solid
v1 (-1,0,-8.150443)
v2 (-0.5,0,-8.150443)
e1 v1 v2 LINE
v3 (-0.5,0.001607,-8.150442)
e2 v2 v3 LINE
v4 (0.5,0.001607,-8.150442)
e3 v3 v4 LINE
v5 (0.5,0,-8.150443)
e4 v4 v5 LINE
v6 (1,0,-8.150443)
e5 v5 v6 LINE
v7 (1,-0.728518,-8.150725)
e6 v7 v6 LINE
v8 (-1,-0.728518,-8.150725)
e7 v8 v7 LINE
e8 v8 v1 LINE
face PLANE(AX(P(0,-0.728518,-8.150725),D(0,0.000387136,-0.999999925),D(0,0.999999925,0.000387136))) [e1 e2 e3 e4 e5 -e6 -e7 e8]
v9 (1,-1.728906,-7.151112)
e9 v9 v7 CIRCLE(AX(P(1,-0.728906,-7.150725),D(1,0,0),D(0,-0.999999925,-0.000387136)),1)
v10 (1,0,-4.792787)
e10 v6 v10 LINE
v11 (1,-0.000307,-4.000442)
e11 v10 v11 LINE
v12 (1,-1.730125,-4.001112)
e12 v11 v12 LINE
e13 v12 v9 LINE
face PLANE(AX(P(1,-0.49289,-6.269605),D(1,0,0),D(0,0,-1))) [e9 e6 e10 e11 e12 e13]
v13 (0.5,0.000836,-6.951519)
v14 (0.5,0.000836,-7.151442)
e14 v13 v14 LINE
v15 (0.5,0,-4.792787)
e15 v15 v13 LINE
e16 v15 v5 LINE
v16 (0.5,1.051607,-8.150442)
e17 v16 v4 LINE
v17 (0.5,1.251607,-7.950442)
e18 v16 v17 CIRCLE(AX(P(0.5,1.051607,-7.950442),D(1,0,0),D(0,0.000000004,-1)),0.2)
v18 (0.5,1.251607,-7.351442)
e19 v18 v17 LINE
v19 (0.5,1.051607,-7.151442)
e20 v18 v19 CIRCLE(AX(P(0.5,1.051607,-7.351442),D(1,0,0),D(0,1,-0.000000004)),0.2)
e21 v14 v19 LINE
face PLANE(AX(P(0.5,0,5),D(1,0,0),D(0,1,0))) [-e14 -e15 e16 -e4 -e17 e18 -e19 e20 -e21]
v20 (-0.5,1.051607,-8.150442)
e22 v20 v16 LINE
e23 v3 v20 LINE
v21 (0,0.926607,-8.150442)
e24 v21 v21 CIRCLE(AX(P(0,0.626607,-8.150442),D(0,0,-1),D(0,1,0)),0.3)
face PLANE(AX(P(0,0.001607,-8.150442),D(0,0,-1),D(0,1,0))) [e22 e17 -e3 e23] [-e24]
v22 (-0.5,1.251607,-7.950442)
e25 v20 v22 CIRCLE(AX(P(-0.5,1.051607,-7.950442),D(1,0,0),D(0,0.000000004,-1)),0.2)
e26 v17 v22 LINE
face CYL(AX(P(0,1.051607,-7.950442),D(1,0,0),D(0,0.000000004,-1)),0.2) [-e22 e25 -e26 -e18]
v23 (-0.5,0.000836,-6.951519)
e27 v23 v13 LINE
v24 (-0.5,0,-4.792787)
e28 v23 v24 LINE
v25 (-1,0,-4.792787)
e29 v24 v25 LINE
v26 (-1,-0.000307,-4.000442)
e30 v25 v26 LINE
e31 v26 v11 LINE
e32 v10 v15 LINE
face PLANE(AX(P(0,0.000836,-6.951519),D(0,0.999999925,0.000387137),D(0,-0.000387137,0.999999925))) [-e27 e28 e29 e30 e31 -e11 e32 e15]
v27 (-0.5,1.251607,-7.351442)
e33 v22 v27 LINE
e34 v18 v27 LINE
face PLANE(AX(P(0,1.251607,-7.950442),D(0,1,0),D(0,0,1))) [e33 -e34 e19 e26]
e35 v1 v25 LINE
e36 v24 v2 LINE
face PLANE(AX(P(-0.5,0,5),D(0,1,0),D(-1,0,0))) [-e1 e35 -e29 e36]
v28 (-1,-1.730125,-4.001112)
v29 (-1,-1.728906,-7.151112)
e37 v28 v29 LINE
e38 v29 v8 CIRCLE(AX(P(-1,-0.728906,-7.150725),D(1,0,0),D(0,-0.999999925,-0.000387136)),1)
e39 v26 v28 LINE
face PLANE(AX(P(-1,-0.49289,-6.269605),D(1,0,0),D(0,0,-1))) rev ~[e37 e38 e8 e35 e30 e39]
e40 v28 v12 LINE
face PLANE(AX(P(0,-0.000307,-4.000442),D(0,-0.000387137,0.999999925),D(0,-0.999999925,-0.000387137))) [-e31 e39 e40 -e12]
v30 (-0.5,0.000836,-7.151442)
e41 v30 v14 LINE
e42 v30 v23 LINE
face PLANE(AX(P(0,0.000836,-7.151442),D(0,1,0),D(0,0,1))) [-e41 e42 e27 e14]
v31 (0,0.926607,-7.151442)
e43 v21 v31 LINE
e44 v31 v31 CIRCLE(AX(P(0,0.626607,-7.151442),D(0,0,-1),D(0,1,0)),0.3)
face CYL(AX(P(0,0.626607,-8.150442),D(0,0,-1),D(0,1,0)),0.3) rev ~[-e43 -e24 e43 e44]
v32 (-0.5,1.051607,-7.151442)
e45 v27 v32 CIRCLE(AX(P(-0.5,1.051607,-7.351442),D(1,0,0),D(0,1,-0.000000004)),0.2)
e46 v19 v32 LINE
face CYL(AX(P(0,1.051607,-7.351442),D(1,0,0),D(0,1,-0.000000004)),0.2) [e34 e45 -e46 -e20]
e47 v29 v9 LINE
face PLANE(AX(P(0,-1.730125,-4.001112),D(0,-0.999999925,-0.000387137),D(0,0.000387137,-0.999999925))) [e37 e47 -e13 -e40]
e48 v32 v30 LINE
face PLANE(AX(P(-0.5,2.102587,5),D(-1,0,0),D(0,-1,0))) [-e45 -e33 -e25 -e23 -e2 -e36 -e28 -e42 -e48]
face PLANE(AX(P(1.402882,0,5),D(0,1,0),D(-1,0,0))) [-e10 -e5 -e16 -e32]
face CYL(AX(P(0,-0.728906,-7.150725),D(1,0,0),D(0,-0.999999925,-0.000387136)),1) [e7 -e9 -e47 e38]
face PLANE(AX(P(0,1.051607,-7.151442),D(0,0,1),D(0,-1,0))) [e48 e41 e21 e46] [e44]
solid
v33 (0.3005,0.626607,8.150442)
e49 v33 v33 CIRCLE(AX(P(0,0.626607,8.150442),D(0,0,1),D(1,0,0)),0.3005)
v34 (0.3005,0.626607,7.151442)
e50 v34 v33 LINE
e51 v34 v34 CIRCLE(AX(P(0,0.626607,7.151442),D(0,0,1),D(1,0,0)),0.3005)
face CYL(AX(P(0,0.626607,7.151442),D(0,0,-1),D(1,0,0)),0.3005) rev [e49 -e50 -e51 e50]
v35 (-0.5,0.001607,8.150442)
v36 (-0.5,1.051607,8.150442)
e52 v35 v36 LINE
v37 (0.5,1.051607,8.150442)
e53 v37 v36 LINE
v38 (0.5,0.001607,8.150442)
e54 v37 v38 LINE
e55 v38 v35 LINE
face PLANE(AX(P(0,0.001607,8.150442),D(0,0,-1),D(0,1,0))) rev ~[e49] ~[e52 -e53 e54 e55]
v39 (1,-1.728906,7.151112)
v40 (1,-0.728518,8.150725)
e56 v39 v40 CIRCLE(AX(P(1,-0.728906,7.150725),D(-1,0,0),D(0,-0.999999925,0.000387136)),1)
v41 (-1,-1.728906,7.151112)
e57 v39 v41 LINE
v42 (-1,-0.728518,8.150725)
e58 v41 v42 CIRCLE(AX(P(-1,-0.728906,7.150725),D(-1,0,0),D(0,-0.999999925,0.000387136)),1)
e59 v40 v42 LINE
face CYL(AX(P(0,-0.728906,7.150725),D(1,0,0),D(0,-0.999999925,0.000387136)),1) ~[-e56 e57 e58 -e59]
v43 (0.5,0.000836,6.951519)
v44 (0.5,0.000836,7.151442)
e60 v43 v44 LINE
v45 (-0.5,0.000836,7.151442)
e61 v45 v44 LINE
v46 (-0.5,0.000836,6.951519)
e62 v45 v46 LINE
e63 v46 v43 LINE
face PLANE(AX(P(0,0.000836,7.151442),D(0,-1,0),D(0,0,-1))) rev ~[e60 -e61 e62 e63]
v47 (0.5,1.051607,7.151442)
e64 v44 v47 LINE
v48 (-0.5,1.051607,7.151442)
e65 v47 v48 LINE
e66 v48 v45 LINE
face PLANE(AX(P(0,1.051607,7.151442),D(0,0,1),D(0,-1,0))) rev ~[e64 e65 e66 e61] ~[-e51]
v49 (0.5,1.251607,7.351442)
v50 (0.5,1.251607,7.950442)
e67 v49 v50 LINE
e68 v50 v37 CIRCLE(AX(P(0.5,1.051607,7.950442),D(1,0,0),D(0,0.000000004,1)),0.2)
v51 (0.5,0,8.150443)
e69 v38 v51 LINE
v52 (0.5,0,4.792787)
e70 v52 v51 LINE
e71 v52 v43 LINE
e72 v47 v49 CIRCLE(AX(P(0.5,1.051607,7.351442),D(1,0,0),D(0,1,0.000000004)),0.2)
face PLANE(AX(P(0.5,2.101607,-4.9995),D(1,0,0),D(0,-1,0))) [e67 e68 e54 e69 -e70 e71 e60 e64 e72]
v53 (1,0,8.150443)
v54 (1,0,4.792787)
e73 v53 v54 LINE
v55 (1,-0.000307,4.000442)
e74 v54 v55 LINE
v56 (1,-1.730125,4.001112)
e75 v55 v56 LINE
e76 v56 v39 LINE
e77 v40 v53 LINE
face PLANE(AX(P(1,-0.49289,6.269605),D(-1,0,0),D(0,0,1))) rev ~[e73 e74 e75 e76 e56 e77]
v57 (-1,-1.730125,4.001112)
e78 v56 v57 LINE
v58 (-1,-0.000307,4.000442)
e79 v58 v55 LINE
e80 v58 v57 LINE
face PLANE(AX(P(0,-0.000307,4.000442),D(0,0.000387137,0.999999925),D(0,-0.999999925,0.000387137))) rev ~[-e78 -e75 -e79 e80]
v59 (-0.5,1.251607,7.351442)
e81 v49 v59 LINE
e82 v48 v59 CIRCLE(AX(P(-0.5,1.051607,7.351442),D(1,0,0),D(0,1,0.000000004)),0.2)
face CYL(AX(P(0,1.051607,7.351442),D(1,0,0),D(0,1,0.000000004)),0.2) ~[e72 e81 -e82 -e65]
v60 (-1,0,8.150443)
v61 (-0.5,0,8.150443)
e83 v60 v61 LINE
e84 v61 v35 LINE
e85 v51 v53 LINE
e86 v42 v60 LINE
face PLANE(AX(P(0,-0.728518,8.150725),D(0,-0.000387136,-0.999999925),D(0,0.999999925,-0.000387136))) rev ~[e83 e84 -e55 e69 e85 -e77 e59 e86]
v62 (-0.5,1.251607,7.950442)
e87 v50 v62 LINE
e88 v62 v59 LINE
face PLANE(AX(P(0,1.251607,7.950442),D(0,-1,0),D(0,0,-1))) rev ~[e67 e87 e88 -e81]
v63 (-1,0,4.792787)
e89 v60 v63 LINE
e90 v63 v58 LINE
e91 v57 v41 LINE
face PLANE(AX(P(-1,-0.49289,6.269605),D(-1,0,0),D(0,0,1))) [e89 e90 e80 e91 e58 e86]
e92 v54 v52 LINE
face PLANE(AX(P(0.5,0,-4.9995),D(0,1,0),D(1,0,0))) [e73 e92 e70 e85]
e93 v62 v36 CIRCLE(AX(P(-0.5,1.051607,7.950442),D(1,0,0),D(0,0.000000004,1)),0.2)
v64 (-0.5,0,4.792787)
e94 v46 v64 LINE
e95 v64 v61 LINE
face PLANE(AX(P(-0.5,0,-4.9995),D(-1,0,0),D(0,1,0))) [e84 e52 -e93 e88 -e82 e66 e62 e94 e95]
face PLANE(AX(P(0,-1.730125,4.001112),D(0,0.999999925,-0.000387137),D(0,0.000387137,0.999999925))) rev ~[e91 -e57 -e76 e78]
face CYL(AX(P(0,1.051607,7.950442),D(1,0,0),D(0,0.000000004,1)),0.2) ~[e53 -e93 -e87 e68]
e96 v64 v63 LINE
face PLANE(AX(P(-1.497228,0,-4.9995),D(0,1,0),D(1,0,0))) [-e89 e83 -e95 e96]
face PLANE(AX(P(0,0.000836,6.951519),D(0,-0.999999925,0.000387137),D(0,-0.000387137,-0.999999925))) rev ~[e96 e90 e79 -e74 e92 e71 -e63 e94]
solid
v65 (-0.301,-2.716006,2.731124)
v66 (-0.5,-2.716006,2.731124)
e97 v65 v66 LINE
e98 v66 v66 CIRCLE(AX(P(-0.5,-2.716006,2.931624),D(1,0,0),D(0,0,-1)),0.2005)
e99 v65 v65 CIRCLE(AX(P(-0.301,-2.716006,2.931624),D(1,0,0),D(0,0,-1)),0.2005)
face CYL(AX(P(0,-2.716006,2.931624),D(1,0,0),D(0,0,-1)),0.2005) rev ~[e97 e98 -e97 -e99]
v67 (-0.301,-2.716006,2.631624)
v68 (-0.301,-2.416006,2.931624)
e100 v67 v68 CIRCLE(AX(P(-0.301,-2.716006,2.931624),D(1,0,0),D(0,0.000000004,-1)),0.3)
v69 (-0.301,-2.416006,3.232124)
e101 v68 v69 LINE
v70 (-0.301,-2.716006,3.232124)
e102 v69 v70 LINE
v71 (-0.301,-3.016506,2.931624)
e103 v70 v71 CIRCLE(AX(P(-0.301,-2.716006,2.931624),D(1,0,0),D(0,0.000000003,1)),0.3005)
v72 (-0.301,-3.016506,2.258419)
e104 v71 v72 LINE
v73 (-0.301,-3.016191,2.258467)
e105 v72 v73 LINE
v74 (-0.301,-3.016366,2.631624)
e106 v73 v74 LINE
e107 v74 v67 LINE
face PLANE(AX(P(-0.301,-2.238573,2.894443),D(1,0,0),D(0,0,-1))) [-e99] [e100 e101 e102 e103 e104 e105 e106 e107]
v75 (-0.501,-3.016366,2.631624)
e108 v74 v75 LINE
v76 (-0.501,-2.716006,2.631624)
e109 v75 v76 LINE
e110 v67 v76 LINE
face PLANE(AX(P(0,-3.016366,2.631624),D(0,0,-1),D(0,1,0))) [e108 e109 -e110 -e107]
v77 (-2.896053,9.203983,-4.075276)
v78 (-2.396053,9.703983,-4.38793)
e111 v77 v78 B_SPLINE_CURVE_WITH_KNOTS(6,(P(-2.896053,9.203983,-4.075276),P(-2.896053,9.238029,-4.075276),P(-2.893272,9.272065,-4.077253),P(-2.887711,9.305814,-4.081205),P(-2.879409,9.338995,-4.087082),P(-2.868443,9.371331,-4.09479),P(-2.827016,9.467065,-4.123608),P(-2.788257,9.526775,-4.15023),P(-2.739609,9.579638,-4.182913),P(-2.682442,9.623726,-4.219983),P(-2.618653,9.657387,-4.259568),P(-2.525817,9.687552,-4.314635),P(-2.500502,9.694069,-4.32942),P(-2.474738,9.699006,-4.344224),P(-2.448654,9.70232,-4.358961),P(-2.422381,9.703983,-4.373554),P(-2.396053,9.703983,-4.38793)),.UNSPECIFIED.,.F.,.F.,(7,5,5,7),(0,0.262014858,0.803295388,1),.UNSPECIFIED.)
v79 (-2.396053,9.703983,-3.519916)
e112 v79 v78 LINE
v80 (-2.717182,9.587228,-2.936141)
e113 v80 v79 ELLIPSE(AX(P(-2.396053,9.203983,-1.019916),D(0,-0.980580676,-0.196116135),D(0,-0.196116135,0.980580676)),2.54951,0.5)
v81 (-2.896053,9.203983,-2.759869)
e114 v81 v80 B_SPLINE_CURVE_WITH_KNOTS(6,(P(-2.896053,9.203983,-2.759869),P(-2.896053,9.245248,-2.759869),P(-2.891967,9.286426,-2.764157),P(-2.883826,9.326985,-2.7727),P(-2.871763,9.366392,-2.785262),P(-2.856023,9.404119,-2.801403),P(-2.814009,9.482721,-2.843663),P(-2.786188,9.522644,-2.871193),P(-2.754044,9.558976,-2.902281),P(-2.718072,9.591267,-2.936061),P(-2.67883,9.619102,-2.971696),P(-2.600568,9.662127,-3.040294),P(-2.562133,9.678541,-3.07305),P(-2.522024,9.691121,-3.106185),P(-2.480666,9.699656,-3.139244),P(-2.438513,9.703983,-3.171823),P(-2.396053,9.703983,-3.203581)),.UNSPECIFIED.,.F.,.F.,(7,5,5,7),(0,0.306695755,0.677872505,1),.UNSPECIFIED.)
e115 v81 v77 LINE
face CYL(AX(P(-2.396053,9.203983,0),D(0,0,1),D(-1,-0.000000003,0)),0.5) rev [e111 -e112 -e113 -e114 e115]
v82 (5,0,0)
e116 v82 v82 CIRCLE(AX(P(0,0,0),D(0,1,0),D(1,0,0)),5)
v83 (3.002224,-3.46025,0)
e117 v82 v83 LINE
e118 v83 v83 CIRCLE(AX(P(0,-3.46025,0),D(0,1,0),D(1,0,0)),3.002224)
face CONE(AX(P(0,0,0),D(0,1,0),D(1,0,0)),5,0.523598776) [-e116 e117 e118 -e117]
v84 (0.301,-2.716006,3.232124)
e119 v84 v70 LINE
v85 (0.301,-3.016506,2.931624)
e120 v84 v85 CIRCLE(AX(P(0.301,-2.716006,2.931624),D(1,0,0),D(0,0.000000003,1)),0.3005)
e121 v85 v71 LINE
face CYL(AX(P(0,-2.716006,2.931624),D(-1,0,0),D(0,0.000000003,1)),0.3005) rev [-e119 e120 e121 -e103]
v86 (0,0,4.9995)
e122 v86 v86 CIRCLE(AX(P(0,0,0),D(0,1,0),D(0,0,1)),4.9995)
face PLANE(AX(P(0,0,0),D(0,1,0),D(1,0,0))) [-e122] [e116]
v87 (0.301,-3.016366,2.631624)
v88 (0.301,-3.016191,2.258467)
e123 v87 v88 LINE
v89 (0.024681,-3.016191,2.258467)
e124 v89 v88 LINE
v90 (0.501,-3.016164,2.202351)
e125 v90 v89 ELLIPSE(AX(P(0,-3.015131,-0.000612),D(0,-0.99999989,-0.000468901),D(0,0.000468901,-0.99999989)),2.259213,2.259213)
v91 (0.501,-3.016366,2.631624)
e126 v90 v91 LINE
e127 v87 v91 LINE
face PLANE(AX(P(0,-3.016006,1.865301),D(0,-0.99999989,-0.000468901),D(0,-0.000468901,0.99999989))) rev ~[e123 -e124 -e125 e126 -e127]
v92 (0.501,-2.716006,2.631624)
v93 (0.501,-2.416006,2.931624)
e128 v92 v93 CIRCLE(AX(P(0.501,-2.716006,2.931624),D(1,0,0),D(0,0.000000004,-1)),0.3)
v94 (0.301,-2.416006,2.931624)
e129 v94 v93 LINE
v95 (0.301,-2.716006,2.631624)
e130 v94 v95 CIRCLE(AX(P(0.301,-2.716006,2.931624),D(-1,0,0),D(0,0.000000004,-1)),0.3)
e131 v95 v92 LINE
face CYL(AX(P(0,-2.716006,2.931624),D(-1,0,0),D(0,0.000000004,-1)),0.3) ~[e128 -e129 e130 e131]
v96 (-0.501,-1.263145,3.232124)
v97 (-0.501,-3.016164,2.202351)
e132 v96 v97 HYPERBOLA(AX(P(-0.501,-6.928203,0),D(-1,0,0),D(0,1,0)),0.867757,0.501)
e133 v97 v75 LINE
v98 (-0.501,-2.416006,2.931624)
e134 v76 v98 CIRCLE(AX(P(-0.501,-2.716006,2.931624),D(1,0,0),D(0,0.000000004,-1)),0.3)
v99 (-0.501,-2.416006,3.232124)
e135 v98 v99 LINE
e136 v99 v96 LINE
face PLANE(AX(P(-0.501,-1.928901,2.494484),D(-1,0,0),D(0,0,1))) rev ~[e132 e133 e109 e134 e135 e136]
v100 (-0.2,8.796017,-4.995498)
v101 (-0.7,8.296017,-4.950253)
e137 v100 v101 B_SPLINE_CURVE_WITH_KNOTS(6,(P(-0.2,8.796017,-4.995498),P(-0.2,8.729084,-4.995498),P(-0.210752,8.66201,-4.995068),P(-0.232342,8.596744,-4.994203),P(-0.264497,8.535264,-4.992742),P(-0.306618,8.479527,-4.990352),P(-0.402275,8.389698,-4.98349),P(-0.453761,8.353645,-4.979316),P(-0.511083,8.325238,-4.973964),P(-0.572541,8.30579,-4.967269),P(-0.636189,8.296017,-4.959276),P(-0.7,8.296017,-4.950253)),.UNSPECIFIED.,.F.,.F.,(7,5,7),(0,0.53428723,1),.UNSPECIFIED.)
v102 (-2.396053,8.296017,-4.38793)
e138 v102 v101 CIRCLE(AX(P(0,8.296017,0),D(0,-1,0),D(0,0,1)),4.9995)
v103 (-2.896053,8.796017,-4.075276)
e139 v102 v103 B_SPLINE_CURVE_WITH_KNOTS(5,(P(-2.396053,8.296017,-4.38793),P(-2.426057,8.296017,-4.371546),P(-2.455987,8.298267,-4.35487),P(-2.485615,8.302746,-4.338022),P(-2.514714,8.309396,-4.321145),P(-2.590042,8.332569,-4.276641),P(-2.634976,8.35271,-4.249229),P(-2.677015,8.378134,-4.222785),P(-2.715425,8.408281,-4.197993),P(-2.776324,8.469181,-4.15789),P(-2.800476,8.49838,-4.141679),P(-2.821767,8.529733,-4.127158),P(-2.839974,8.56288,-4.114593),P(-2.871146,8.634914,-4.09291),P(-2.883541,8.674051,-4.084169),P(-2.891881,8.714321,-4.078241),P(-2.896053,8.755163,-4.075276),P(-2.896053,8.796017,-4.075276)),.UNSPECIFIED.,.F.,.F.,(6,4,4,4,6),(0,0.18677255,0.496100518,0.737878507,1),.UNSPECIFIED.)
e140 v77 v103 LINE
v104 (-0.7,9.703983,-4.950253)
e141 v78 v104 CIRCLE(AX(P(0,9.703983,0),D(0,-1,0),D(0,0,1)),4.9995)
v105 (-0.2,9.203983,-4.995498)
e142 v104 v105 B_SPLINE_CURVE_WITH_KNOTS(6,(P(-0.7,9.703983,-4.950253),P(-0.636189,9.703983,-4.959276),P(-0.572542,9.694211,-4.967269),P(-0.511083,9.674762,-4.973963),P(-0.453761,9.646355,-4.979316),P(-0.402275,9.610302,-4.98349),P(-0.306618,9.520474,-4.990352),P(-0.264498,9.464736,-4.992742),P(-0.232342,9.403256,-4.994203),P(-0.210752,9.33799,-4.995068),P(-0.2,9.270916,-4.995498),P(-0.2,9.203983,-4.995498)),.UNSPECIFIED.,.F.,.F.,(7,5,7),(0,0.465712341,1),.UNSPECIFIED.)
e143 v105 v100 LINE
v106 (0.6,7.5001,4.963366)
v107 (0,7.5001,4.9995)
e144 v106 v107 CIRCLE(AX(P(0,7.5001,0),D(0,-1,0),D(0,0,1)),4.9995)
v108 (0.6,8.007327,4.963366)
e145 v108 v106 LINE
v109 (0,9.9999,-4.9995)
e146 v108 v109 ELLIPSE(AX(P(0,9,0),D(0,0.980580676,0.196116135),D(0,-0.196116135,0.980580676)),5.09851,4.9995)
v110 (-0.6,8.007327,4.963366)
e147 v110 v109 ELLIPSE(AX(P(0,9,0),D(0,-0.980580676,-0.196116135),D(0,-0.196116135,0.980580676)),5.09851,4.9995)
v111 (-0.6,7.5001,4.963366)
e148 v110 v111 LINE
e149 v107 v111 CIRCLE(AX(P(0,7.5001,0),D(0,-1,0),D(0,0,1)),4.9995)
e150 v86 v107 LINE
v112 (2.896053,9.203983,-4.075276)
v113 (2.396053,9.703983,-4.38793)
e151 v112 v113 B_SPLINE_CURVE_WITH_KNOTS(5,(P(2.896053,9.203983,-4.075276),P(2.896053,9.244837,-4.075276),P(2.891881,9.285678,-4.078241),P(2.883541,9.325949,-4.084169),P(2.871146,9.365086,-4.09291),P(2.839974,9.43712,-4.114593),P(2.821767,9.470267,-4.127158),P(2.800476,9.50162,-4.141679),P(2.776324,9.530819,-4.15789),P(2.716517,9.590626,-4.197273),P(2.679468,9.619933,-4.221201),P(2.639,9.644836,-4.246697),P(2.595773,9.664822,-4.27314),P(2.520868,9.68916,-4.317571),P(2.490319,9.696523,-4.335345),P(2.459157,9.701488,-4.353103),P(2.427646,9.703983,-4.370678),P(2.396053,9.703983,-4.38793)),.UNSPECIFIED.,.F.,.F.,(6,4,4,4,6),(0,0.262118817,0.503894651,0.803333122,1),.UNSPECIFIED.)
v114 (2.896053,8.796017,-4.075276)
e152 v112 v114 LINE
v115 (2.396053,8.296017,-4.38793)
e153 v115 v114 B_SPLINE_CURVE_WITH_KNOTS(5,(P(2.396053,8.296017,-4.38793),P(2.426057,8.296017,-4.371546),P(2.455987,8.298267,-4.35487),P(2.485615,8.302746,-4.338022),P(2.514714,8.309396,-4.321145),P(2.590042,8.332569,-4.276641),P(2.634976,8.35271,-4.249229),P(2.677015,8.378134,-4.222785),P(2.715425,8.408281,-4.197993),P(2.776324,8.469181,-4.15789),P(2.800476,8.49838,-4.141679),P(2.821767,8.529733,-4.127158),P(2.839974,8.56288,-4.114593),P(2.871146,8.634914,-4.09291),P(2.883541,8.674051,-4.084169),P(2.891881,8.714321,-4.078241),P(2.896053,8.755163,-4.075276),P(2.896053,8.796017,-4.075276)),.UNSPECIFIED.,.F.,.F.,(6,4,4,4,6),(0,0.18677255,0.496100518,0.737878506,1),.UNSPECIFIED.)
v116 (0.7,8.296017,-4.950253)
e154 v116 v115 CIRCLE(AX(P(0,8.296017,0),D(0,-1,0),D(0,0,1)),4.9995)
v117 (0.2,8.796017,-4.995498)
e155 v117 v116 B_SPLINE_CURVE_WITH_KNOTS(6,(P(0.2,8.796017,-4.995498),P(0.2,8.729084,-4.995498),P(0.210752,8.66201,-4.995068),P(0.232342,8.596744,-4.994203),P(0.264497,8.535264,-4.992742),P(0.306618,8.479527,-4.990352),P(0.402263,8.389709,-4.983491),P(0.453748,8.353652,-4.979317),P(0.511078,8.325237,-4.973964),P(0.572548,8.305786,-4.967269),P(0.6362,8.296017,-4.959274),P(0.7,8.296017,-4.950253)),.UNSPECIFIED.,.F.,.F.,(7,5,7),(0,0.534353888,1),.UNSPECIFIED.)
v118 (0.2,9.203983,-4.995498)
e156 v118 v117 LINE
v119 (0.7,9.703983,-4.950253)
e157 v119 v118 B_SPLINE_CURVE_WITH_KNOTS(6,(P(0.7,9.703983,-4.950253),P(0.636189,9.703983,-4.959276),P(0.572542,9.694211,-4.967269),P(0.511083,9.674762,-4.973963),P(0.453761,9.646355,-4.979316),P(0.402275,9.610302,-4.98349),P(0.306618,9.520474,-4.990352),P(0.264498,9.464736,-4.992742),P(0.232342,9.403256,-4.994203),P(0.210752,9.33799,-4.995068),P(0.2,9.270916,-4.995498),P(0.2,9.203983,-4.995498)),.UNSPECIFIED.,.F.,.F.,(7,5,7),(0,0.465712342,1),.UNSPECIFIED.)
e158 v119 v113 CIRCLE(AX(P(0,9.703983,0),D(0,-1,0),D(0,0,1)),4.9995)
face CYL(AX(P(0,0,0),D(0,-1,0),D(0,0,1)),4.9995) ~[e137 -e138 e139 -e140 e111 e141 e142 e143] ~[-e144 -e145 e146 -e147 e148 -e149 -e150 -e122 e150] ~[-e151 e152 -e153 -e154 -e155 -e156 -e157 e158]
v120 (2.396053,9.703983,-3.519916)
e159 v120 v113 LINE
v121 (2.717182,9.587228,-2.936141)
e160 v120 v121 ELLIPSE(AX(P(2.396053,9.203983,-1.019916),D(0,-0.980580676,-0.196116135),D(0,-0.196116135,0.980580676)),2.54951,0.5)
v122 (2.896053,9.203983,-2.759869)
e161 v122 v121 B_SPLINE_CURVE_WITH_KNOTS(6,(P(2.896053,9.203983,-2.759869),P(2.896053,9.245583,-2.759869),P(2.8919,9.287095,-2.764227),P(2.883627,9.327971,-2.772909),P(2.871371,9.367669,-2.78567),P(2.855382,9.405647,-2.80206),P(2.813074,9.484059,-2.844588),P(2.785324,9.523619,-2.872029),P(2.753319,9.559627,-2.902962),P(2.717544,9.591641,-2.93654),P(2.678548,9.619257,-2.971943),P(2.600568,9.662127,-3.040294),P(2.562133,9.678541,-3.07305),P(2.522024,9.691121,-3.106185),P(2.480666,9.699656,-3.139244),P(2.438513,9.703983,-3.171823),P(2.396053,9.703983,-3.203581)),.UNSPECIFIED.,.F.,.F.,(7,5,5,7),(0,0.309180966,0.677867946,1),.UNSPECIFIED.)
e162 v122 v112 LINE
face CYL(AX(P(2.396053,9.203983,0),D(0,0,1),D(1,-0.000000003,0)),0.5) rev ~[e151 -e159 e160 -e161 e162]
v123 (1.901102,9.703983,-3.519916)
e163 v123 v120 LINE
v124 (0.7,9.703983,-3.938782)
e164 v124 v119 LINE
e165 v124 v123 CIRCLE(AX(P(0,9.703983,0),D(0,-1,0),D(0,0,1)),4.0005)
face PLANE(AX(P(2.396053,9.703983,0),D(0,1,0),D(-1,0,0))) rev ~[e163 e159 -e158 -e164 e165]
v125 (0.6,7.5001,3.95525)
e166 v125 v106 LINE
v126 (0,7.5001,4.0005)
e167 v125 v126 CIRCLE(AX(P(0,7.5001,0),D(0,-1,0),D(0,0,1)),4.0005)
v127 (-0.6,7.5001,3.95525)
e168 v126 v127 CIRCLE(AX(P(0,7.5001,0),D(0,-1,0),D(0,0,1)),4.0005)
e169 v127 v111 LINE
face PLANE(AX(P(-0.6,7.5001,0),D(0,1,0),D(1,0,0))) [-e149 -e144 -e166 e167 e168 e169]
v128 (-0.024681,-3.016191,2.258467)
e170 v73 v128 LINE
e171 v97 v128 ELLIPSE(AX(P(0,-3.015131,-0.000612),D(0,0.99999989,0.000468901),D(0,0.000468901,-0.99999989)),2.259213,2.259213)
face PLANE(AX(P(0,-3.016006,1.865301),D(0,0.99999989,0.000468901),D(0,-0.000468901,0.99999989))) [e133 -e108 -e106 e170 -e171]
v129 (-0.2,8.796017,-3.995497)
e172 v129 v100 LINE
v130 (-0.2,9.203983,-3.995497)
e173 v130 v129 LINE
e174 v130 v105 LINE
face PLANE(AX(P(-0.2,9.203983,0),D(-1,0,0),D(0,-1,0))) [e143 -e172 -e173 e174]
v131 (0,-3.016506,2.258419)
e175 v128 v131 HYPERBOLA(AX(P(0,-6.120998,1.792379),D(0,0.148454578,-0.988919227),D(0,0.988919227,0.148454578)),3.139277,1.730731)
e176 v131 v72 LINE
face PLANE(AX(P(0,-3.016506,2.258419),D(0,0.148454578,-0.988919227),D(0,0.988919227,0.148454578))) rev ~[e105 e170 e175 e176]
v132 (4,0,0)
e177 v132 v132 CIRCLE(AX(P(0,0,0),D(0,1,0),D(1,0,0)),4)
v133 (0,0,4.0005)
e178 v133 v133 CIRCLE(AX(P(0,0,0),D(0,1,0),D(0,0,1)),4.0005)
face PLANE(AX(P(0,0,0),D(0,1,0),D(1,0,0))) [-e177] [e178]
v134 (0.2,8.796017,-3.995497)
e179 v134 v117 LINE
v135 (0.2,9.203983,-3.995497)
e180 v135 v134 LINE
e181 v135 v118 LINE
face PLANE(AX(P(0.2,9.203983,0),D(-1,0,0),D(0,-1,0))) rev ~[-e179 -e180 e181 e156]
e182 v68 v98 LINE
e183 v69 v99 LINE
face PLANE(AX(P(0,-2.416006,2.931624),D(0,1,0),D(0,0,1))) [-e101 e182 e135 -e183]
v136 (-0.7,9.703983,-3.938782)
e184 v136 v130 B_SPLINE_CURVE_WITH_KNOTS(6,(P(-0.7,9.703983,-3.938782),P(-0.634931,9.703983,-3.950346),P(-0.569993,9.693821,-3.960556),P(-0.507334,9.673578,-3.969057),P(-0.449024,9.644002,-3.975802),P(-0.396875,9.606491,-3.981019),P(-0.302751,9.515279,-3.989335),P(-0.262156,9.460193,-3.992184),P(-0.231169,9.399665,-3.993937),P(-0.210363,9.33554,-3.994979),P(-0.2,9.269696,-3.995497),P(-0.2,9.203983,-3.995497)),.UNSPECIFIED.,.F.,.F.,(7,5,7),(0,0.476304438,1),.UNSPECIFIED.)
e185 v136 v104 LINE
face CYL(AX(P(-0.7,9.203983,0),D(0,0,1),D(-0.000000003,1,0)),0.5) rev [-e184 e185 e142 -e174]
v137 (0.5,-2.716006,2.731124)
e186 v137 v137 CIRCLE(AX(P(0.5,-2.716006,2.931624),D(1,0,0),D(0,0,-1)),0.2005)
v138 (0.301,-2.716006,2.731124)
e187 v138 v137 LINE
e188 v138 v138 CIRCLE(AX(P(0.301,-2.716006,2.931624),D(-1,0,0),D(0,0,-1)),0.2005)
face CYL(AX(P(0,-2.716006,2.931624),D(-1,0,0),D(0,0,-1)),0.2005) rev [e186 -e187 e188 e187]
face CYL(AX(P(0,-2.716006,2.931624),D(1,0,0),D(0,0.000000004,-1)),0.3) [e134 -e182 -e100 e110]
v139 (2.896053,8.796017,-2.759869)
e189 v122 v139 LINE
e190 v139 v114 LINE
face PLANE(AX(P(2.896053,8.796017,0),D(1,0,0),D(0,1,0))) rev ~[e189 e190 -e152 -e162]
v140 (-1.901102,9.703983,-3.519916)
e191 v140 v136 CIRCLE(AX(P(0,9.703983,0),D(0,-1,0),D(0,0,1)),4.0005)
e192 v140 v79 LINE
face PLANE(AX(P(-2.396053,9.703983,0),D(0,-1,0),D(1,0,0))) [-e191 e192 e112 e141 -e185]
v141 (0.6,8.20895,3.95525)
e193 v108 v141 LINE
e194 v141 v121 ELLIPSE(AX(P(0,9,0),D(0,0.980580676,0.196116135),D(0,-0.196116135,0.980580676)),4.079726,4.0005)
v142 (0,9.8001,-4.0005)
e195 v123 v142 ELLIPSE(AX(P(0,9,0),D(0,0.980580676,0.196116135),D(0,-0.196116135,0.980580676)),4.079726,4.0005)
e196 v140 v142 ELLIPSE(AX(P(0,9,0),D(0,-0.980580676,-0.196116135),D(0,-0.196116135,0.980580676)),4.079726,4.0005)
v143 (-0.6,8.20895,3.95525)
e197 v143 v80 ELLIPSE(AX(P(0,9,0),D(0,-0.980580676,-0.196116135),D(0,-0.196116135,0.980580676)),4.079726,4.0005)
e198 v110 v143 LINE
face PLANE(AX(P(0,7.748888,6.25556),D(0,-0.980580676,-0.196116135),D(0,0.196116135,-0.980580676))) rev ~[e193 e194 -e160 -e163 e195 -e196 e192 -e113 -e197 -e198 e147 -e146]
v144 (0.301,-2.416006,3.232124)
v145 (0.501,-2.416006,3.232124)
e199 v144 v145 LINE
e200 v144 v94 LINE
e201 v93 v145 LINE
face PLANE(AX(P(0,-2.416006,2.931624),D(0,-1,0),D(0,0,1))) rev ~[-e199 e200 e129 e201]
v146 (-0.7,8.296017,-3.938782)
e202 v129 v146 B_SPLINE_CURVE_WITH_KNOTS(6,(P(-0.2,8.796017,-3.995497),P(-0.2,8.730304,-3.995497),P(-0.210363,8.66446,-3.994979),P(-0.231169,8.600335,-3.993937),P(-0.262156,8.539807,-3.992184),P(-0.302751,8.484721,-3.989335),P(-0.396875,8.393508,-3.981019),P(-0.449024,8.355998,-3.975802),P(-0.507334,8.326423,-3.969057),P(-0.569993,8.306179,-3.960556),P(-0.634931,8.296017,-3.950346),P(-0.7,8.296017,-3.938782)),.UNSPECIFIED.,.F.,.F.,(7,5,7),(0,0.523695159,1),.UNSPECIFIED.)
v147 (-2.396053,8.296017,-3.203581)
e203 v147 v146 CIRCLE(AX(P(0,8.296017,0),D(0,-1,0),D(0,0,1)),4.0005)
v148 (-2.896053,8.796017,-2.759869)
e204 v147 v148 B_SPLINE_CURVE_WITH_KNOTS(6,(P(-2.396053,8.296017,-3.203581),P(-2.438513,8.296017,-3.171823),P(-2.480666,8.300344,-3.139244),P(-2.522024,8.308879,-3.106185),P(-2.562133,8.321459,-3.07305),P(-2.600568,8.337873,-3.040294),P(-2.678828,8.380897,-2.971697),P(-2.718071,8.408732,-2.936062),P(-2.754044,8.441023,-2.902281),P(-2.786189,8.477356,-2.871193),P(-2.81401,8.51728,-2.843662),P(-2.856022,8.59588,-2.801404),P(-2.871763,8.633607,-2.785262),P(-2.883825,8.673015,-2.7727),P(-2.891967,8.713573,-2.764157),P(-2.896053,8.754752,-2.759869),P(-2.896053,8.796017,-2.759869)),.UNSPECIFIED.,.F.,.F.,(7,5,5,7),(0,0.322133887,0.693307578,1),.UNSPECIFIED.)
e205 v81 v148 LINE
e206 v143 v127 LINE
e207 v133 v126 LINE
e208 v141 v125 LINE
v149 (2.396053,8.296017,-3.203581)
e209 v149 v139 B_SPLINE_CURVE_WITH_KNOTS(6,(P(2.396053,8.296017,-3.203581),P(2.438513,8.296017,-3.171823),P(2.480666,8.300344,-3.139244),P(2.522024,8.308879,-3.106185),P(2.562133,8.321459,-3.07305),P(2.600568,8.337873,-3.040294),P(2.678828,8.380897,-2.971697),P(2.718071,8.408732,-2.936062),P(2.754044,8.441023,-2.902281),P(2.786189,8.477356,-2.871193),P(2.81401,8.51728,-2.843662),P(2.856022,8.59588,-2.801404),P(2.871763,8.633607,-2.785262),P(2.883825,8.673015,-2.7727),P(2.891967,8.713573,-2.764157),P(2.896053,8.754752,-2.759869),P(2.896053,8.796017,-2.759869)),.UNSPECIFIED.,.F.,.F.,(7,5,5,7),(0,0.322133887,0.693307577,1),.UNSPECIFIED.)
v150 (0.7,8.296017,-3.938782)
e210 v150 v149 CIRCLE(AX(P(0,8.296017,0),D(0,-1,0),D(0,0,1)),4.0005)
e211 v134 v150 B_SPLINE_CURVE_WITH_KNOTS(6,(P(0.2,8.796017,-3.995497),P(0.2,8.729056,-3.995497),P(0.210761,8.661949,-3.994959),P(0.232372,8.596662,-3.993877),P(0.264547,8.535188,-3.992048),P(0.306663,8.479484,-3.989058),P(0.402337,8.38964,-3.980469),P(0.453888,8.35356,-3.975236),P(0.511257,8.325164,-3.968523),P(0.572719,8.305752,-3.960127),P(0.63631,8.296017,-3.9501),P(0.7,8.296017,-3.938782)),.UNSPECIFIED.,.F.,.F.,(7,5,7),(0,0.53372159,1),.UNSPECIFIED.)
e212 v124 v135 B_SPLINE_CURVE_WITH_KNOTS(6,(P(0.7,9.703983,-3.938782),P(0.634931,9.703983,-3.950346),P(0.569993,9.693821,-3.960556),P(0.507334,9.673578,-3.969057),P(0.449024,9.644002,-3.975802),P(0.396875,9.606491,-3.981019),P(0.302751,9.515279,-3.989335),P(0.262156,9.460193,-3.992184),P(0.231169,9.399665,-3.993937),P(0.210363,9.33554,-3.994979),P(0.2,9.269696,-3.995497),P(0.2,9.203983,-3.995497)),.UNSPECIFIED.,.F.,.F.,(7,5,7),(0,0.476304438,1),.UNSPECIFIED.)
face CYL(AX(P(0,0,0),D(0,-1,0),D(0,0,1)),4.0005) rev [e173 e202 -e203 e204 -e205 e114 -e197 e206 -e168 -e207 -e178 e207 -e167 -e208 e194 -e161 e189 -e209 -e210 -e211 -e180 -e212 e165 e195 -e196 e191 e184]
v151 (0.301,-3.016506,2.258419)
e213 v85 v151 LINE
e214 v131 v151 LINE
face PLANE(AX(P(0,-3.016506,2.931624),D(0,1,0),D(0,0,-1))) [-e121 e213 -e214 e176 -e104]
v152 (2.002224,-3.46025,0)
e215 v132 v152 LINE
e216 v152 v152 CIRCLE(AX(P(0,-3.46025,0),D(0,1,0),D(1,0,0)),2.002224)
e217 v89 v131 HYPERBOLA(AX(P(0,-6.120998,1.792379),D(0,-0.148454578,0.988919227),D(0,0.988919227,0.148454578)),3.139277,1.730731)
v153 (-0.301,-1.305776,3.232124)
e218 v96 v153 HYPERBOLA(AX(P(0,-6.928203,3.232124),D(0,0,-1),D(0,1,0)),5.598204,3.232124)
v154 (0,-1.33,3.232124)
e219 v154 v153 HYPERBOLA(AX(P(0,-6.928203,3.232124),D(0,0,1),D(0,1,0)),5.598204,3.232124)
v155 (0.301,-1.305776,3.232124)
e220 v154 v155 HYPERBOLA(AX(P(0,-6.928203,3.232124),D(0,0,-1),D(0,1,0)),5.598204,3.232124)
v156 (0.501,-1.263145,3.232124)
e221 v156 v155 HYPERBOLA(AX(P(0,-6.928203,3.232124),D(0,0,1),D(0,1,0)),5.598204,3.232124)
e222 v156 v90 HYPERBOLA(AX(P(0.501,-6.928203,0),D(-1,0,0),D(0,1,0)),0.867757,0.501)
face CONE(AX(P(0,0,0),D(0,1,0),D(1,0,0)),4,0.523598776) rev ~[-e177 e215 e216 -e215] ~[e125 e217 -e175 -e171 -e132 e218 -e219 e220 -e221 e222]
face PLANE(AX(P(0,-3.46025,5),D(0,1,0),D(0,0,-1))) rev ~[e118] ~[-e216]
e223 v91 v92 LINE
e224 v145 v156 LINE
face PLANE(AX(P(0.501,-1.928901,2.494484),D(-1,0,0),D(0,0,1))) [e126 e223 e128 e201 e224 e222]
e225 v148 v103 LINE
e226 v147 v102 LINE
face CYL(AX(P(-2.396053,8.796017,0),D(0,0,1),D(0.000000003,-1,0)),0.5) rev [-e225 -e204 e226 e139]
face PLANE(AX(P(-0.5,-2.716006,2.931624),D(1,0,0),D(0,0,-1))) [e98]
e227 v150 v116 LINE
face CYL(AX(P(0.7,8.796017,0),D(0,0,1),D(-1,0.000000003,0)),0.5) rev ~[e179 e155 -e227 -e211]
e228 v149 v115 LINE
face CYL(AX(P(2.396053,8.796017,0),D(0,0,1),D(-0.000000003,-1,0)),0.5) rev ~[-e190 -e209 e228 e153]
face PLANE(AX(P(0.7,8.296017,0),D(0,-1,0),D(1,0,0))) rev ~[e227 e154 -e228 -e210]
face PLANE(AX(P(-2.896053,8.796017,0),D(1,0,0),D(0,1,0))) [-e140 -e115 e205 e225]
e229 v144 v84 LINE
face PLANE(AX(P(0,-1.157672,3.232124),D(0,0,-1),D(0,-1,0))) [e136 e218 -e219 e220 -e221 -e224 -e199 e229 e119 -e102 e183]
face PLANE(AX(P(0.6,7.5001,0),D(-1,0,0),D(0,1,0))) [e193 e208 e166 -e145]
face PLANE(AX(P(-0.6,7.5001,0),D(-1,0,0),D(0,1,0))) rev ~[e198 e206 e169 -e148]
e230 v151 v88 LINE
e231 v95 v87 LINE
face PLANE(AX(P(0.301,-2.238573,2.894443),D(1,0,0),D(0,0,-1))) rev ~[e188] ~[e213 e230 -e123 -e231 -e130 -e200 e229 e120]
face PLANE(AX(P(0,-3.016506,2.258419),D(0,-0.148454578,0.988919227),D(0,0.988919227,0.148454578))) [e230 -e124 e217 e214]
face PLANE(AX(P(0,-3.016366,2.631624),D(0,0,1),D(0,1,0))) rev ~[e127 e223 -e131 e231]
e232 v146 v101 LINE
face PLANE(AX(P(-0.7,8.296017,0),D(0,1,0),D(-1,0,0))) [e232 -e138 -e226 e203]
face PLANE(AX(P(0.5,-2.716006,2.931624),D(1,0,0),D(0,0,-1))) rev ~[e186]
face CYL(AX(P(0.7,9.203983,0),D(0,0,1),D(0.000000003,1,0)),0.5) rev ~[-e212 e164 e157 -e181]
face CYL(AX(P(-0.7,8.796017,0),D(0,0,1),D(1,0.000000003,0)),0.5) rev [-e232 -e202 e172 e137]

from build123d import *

# Parameters (mm, degrees)
SKETCH1_R                  = 4.9995
SKETCH1_R_2                = 4.0005
BOSS_EXTRUDE1_DEPTH        = 10
SKETCH2_R                  = 5
BOSS_EXTRUDE2_DEPTH        = 5
BOSS_EXTRUDE2_DRAFT        = -30
SKETCH3_R                  = 4
CUT_EXTRUDE1_DEPTH         = 5
CUT_EXTRUDE1_DRAFT         = -30
CUT_EXTRUDE6_DEPTH         = 0.301
CUT_EXTRUDE6_DEPTH_BACK    = 0.301
SKETCH10_R                 = 0.2005
CUT_EXTRUDE9_DEPTH         = 0.5
CUT_EXTRUDE9_DEPTH_BACK    = 0.5
CUT_EXTRUDE10_DEPTH        = 6
CUT_EXTRUDE10_DEPTH_BACK   = 6
CUT_EXTRUDE13_DEPTH        = 6
SKETCH14_W                 = 9.766449239
SKETCH14_H                 = 2.017046323
CUT_EXTRUDE14_DEPTH        = 6
CUT_EXTRUDE14_DEPTH_BACK   = 6
BOSS_EXTRUDE3_DEPTH        = 1
BOSS_EXTRUDE3_DEPTH_BACK   = 1
BOSS_EXTRUDE3_2_DEPTH      = 1
BOSS_EXTRUDE3_2_DEPTH_BACK = 1
SKETCH18_W                 = 1.2
SKETCH18_H                 = 1.068876387
CUT_EXTRUDE15_DEPTH        = 9.150724798
CUT_EXTRUDE16_START        = -13.149942
SKETCH19_W                 = 0.5
SKETCH19_H                 = 1.05
CUT_EXTRUDE16_DEPTH        = 13.150225
CUT_EXTRUDE17_START        = -13.150442
SKETCH20_W                 = 0.5
SKETCH20_H                 = 1.05
CUT_EXTRUDE17_DEPTH        = 13.150725
SKETCH22_R                 = 0.3005
CUT_EXTRUDE19_DEPTH        = 0.999
SKETCH24_R                 = 0.3
CUT_EXTRUDE20_DEPTH        = 0.999
CUT_EXTRUDE21_DEPTH        = 0.501
CUT_EXTRUDE21_DEPTH_BACK   = 0.501


with BuildPart() as part:
    # Sketch1 → Boss-Extrude1 (new body)
    with BuildSketch(Plane(origin=(0, 0, 0), x_dir=(1, 0, 0), z_dir=(0, 1, 0))):
        with Locations(Location((0, 0, 0), (0, 0, 270))):  # turned: the seam where the file's is
            Circle(SKETCH1_R)
        with Locations(Location((0, 0, 0), (0, 0, 270))):  # turned: the seam where the file's is
            Circle(SKETCH1_R_2, mode=Mode.SUBTRACT)
    extrude(amount=BOSS_EXTRUDE1_DEPTH)


with BuildPart() as boss_extrude2_tool:
    # Sketch2 → Boss-Extrude2 (with draft: the straight prism first)
    with BuildSketch(Plane(origin=(0, 0, 0), x_dir=(1, 0, 0), z_dir=(0, 1, 0))):
        Circle(SKETCH2_R)
    extrude(amount=-BOSS_EXTRUDE2_DEPTH)
    # Boss-Extrude2: the draft: its side faces are tilted about the plane it starts from
    boss_extrude2_sides = [boss_extrude2_tool.faces().sort_by_distance(p)[0] for p in [
        (-5, -2.5, 0),
    ]]
    draft(boss_extrude2_sides, Plane(origin=(0, 0, 0), x_dir=(1, 0, 0), z_dir=(0, 1, 0)), BOSS_EXTRUDE2_DRAFT)


with BuildPart() as part_1:
    add(part.part)

    # Boss-Extrude2: add boss_extrude2_tool
    add(boss_extrude2_tool.part)


with BuildPart() as cut_extrude1_tool:
    # Sketch3 → Cut-Extrude1 (with draft: the straight prism first)
    with BuildSketch(Plane(origin=(0, 0, 0), x_dir=(1, 0, 0), z_dir=(0, 1, 0))):
        Circle(SKETCH3_R)
    extrude(amount=-CUT_EXTRUDE1_DEPTH)
    # Cut-Extrude1: the draft: its side faces are tilted about the plane it starts from
    cut_extrude1_sides = [cut_extrude1_tool.faces().sort_by_distance(p)[0] for p in [
        (-4, -2.5, 0),
    ]]
    draft(cut_extrude1_sides, Plane(origin=(0, 0, 0), x_dir=(1, 0, 0), z_dir=(0, 1, 0)), CUT_EXTRUDE1_DRAFT)


with BuildPart() as part_2:
    add(part_1.part)

    # Cut-Extrude1: cut by cut_extrude1_tool
    add(cut_extrude1_tool.part, mode=Mode.SUBTRACT)

    # Sketch9 → Cut-Extrude6 (cut, two sides)
    with BuildSketch(Plane(origin=(0, 0, 0), x_dir=(0, 0, -1), z_dir=(1, 0, 0))) as cut_extrude6_sk:
        with BuildLine():
            Line((-2.931624327, -3.016506351), (-2.258419246, -3.016506351))
            Line((-2.258419246, -3.016506351), (-2.305810355, -2.700813972))
            Line((-2.305810355, -2.700813972), (-2.605810355, -2.18119873))
            Line((-2.605810355, -2.18119873), (-3.232124327, -1.157671827))
            Line((-3.232124327, -1.157671827), (-3.232124327, -2.716006351))
            ThreePointArc((-3.232124327, -2.716006351), (-3.144109915, -2.928491939), (-2.931624327, -3.016506351))
        make_face()
    extrude(amount=CUT_EXTRUDE6_DEPTH, mode=Mode.SUBTRACT)
    extrude(cut_extrude6_sk.sketch, amount=-CUT_EXTRUDE6_DEPTH_BACK, mode=Mode.SUBTRACT)

    # Sketch10 → Cut-Extrude9 (cut, two sides)
    with BuildSketch(Plane(origin=(0, 0, 0), x_dir=(0, 0, -1), z_dir=(1, 0, 0))) as cut_extrude9_sk:
        with Locations((-2.931624327, -2.716006351)):
            Circle(SKETCH10_R)
    extrude(amount=CUT_EXTRUDE9_DEPTH, mode=Mode.SUBTRACT)
    extrude(cut_extrude9_sk.sketch, amount=-CUT_EXTRUDE9_DEPTH_BACK, mode=Mode.SUBTRACT)

    # Sketch11 → Cut-Extrude10 (cut, two sides)
    with BuildSketch(Plane(origin=(0, 0, 0), x_dir=(0, 0, -1), z_dir=(1, 0, 0))) as cut_extrude10_sk:
        Polygon((-6.255560267, 7.748887947), (6.541927726, 10.308385545), (-6.255560267, 10.308385545), align=None)
    extrude(amount=CUT_EXTRUDE10_DEPTH, mode=Mode.SUBTRACT)
    extrude(cut_extrude10_sk.sketch, amount=-CUT_EXTRUDE10_DEPTH_BACK, mode=Mode.SUBTRACT)

    # Sketch12 → Cut-Extrude13 (cut, through all)
    with BuildSketch(Plane.XY):
        with BuildLine():
            Line((2.896053459, 8.796016707), (2.896053459, 9.203983293))
            ThreePointArc((2.896053459, 9.203983293), (2.74960685, 9.557536684), (2.396053459, 9.703983293))
            Line((2.396053459, 9.703983293), (0.7, 9.703983293))
            ThreePointArc((0.7, 9.703983293), (0.346446609, 9.557536684), (0.2, 9.203983293))
            Line((0.2, 9.203983293), (0.2, 8.796016707))
            ThreePointArc((0.2, 8.796016707), (0.346446609, 8.442463316), (0.7, 8.296016707))
            Line((0.7, 8.296016707), (2.396053459, 8.296016707))
            ThreePointArc((2.396053459, 8.296016707), (2.74960685, 8.442463316), (2.896053459, 8.796016707))
        make_face()
        with BuildLine():
            Line((-2.896053459, 8.796016707), (-2.896053459, 9.203983293))
            ThreePointArc((-2.896053459, 9.203983293), (-2.74960685, 9.557536684), (-2.396053459, 9.703983293))
            Line((-2.396053459, 9.703983293), (-0.7, 9.703983293))
            ThreePointArc((-0.7, 9.703983293), (-0.346446609, 9.557536684), (-0.2, 9.203983293))
            Line((-0.2, 9.203983293), (-0.2, 8.796016707))
            ThreePointArc((-0.2, 8.796016707), (-0.346446609, 8.442463316), (-0.7, 8.296016707))
            Line((-0.7, 8.296016707), (-2.396053459, 8.296016707))
            ThreePointArc((-2.396053459, 8.296016707), (-2.74960685, 8.442463316), (-2.896053459, 8.796016707))
        make_face()
    extrude(amount=-CUT_EXTRUDE13_DEPTH, mode=Mode.SUBTRACT)

    # Sketch14 → Cut-Extrude14 (cut, two sides)
    with BuildSketch(Plane(origin=(0, 0, 0), x_dir=(0, 0, -1), z_dir=(1, 0, 0))) as cut_extrude14_sk:
        with Locations((-0.116775381, -4.468773181)):
            Rectangle(SKETCH14_W, SKETCH14_H)
    extrude(amount=CUT_EXTRUDE14_DEPTH, mode=Mode.SUBTRACT)
    extrude(cut_extrude14_sk.sketch, amount=-CUT_EXTRUDE14_DEPTH_BACK, mode=Mode.SUBTRACT)

    # Sketch18 → Cut-Extrude15 (cut, through all)
    with BuildSketch(Plane.XY):
        with Locations((0, 8.034538194)):
            Rectangle(SKETCH18_W, SKETCH18_H)
    extrude(amount=CUT_EXTRUDE15_DEPTH, mode=Mode.SUBTRACT)

    # Sketch26 → Cut-Extrude21 (cut, two sides)
    with BuildSketch(Plane(origin=(0, 0, 0), x_dir=(0, 0, -1), z_dir=(1, 0, 0))) as cut_extrude21_sk:
        with BuildLine():
            Line((-2.931624327, -2.416006351), (-3.232124327, -2.416006351))
            Line((-3.232124327, -2.416006351), (-3.232124327, -0.963843284))
            Line((-3.232124327, -0.963843284), (-1.865300653, -0.963843284))
            Line((-1.865300653, -0.963843284), (-1.865300653, -3.016006351))
            Line((-1.865300653, -3.016006351), (-2.631624327, -3.016365681))
            Line((-2.631624327, -3.016365681), (-2.631624327, -2.716006351))
            ThreePointArc((-2.631624327, -2.716006351), (-2.719492293, -2.503874317), (-2.931624327, -2.416006351))
        make_face()
    extrude(amount=CUT_EXTRUDE21_DEPTH, mode=Mode.SUBTRACT)
    extrude(cut_extrude21_sk.sketch, amount=-CUT_EXTRUDE21_DEPTH_BACK, mode=Mode.SUBTRACT)


with BuildPart() as body_2:
    # Sketch15 → Boss-Extrude3 (new body, two sides)
    with BuildSketch(Plane(origin=(0, 0, 0), x_dir=(0, 0, -1), z_dir=(1, 0, 0))) as boss_extrude3_sk:
        with BuildLine():
            Line((-4.000442184, -0.000306746), (-4.00111186, -1.73012501))
            Line((-4.00111186, -1.73012501), (-7.151111935, -1.728905528))
            ThreePointArc((-7.151111935, -1.728905528), (-7.858105273, -1.435738585), (-8.150724723, -0.728518467))
            Line((-8.150724723, -0.728518467), (-8.150442065, 0.001606846))
            Line((-8.150442065, 0.001606846), (-8.150442065, 1.051606846))
            ThreePointArc((-8.150442065, 1.051606846), (-8.091863421, 1.193028202), (-7.950442065, 1.251606846))
            Line((-7.950442065, 1.251606846), (-7.351442065, 1.251606846))
            ThreePointArc((-7.351442065, 1.251606846), (-7.210020708, 1.193028202), (-7.151442065, 1.051606846))
            Line((-7.151442065, 1.051606846), (-7.151442065, 0.20083571))
            Line((-7.151442065, 0.20083571), (-7.151442065, 0.000835725))
            Line((-7.151442065, 0.000835725), (-6.951519492, 0.000835725))
            Line((-6.951519492, 0.000835725), (-4.000442184, -0.000306746))
        make_face()
    extrude(amount=BOSS_EXTRUDE3_DEPTH)
    extrude(boss_extrude3_sk.sketch, amount=-BOSS_EXTRUDE3_DEPTH_BACK)

    # Sketch19 → Cut-Extrude16 (cut)
    with BuildSketch(Plane.XY.offset(8.150442065).offset(CUT_EXTRUDE16_START)):
        with Locations((-0.75, 0.526606846)):
            Rectangle(SKETCH19_W, SKETCH19_H)
        with Locations((0.75, 0.526606846)):
            Rectangle(SKETCH19_W, SKETCH19_H)
        Polygon((-1, 1.051606846), (-0.5, 1.051606846), (-0.5, 2.101606846), (-1.497228445, 2.101606846), (-1.497228445, 0), (-0.5, 0), (-0.5, 0.001606846), (-1, 0.001606846), align=None)
        Polygon((1.705190103, 2.101606846), (0.5, 2.101606846), (0.5, 1.051606846), (1, 1.051606846), (1, 0.001606846), (0.5, 0.001606846), (0.5, 0), (1.705190103, 0), align=None)
    extrude(amount=CUT_EXTRUDE16_DEPTH, mode=Mode.SUBTRACT)

    # Sketch22 → Cut-Extrude19 (cut)
    with BuildSketch(Plane.XY.offset(7.151442065)):
        with Locations((0, 0.626606618)):
            Circle(SKETCH22_R)
    extrude(amount=CUT_EXTRUDE19_DEPTH, mode=Mode.SUBTRACT)


with BuildPart() as body_3:
    # Sketch15 → Boss-Extrude3 2 (new body, two sides)
    with BuildSketch(Plane(origin=(0, 0, 0), x_dir=(0, 0, -1), z_dir=(1, 0, 0))) as boss_extrude3_2_sk:
        with BuildLine():
            Line((7.151442065, 1.051606846), (7.151442065, 0.20083571))
            Line((7.151442065, 0.20083571), (7.151442065, 0.000835725))
            Line((7.151442065, 0.000835725), (6.951519492, 0.000835725))
            Line((6.951519492, 0.000835725), (4.000442184, -0.000306746))
            Line((4.000442184, -0.000306746), (4.00111186, -1.73012501))
            Line((4.00111186, -1.73012501), (7.151111935, -1.728905528))
            ThreePointArc((7.151111935, -1.728905528), (7.858105273, -1.435738585), (8.150724723, -0.728518467))
            Line((8.150724723, -0.728518467), (8.150442065, 0.001606846))
            Line((8.150442065, 0.001606846), (8.150442065, 1.051606846))
            ThreePointArc((8.150442065, 1.051606846), (8.091863421, 1.193028202), (7.950442065, 1.251606846))
            Line((7.950442065, 1.251606846), (7.351442065, 1.251606846))
            ThreePointArc((7.351442065, 1.251606846), (7.210020708, 1.193028202), (7.151442065, 1.051606846))
        make_face()
    extrude(amount=BOSS_EXTRUDE3_2_DEPTH)
    extrude(boss_extrude3_2_sk.sketch, amount=-BOSS_EXTRUDE3_2_DEPTH_BACK)

    # Sketch20 → Cut-Extrude17 (cut)
    with BuildSketch(Plane(origin=(0, 0, -8.150442065), x_dir=(-1, 0, 0), z_dir=(0, 0, -1)).offset(CUT_EXTRUDE17_START)):
        with Locations((-0.75, 0.526606846)):
            Rectangle(SKETCH20_W, SKETCH20_H)
        with Locations((0.75, 0.526606846)):
            Rectangle(SKETCH20_W, SKETCH20_H)
        Polygon((0.5, 2.102586695), (0.5, 1.051606846), (1, 1.051606846), (1, 0.001606846), (0.5, 0.001606846), (0.5, 0.000626541), (0.5, 0), (1.393428378, 0), (1.393428378, 2.102586695), align=None)
        Polygon((-0.5, 1.051606846), (-0.5, 2.102586695), (-1.402882221, 2.102586695), (-1.402882221, 0), (-0.5, 0), (-0.5, 0.000626541), (-0.5, 0.001606846), (-1, 0.001606846), (-1, 1.051606846), align=None)
    extrude(amount=CUT_EXTRUDE17_DEPTH, mode=Mode.SUBTRACT)

    # Sketch24 → Cut-Extrude20 (cut)
    with BuildSketch(Plane(origin=(0, 0, -8.150442065), x_dir=(-1, 0, 0), z_dir=(0, 0, -1))):
        with Locations(Location((0, 0.626606618, 0), (0, 0, 90))):  # turned: the seam where the file's is
            Circle(SKETCH24_R)
    extrude(amount=-CUT_EXTRUDE20_DEPTH, mode=Mode.SUBTRACT)


solid = Compound([part_2.part, body_2.part, body_3.part])
